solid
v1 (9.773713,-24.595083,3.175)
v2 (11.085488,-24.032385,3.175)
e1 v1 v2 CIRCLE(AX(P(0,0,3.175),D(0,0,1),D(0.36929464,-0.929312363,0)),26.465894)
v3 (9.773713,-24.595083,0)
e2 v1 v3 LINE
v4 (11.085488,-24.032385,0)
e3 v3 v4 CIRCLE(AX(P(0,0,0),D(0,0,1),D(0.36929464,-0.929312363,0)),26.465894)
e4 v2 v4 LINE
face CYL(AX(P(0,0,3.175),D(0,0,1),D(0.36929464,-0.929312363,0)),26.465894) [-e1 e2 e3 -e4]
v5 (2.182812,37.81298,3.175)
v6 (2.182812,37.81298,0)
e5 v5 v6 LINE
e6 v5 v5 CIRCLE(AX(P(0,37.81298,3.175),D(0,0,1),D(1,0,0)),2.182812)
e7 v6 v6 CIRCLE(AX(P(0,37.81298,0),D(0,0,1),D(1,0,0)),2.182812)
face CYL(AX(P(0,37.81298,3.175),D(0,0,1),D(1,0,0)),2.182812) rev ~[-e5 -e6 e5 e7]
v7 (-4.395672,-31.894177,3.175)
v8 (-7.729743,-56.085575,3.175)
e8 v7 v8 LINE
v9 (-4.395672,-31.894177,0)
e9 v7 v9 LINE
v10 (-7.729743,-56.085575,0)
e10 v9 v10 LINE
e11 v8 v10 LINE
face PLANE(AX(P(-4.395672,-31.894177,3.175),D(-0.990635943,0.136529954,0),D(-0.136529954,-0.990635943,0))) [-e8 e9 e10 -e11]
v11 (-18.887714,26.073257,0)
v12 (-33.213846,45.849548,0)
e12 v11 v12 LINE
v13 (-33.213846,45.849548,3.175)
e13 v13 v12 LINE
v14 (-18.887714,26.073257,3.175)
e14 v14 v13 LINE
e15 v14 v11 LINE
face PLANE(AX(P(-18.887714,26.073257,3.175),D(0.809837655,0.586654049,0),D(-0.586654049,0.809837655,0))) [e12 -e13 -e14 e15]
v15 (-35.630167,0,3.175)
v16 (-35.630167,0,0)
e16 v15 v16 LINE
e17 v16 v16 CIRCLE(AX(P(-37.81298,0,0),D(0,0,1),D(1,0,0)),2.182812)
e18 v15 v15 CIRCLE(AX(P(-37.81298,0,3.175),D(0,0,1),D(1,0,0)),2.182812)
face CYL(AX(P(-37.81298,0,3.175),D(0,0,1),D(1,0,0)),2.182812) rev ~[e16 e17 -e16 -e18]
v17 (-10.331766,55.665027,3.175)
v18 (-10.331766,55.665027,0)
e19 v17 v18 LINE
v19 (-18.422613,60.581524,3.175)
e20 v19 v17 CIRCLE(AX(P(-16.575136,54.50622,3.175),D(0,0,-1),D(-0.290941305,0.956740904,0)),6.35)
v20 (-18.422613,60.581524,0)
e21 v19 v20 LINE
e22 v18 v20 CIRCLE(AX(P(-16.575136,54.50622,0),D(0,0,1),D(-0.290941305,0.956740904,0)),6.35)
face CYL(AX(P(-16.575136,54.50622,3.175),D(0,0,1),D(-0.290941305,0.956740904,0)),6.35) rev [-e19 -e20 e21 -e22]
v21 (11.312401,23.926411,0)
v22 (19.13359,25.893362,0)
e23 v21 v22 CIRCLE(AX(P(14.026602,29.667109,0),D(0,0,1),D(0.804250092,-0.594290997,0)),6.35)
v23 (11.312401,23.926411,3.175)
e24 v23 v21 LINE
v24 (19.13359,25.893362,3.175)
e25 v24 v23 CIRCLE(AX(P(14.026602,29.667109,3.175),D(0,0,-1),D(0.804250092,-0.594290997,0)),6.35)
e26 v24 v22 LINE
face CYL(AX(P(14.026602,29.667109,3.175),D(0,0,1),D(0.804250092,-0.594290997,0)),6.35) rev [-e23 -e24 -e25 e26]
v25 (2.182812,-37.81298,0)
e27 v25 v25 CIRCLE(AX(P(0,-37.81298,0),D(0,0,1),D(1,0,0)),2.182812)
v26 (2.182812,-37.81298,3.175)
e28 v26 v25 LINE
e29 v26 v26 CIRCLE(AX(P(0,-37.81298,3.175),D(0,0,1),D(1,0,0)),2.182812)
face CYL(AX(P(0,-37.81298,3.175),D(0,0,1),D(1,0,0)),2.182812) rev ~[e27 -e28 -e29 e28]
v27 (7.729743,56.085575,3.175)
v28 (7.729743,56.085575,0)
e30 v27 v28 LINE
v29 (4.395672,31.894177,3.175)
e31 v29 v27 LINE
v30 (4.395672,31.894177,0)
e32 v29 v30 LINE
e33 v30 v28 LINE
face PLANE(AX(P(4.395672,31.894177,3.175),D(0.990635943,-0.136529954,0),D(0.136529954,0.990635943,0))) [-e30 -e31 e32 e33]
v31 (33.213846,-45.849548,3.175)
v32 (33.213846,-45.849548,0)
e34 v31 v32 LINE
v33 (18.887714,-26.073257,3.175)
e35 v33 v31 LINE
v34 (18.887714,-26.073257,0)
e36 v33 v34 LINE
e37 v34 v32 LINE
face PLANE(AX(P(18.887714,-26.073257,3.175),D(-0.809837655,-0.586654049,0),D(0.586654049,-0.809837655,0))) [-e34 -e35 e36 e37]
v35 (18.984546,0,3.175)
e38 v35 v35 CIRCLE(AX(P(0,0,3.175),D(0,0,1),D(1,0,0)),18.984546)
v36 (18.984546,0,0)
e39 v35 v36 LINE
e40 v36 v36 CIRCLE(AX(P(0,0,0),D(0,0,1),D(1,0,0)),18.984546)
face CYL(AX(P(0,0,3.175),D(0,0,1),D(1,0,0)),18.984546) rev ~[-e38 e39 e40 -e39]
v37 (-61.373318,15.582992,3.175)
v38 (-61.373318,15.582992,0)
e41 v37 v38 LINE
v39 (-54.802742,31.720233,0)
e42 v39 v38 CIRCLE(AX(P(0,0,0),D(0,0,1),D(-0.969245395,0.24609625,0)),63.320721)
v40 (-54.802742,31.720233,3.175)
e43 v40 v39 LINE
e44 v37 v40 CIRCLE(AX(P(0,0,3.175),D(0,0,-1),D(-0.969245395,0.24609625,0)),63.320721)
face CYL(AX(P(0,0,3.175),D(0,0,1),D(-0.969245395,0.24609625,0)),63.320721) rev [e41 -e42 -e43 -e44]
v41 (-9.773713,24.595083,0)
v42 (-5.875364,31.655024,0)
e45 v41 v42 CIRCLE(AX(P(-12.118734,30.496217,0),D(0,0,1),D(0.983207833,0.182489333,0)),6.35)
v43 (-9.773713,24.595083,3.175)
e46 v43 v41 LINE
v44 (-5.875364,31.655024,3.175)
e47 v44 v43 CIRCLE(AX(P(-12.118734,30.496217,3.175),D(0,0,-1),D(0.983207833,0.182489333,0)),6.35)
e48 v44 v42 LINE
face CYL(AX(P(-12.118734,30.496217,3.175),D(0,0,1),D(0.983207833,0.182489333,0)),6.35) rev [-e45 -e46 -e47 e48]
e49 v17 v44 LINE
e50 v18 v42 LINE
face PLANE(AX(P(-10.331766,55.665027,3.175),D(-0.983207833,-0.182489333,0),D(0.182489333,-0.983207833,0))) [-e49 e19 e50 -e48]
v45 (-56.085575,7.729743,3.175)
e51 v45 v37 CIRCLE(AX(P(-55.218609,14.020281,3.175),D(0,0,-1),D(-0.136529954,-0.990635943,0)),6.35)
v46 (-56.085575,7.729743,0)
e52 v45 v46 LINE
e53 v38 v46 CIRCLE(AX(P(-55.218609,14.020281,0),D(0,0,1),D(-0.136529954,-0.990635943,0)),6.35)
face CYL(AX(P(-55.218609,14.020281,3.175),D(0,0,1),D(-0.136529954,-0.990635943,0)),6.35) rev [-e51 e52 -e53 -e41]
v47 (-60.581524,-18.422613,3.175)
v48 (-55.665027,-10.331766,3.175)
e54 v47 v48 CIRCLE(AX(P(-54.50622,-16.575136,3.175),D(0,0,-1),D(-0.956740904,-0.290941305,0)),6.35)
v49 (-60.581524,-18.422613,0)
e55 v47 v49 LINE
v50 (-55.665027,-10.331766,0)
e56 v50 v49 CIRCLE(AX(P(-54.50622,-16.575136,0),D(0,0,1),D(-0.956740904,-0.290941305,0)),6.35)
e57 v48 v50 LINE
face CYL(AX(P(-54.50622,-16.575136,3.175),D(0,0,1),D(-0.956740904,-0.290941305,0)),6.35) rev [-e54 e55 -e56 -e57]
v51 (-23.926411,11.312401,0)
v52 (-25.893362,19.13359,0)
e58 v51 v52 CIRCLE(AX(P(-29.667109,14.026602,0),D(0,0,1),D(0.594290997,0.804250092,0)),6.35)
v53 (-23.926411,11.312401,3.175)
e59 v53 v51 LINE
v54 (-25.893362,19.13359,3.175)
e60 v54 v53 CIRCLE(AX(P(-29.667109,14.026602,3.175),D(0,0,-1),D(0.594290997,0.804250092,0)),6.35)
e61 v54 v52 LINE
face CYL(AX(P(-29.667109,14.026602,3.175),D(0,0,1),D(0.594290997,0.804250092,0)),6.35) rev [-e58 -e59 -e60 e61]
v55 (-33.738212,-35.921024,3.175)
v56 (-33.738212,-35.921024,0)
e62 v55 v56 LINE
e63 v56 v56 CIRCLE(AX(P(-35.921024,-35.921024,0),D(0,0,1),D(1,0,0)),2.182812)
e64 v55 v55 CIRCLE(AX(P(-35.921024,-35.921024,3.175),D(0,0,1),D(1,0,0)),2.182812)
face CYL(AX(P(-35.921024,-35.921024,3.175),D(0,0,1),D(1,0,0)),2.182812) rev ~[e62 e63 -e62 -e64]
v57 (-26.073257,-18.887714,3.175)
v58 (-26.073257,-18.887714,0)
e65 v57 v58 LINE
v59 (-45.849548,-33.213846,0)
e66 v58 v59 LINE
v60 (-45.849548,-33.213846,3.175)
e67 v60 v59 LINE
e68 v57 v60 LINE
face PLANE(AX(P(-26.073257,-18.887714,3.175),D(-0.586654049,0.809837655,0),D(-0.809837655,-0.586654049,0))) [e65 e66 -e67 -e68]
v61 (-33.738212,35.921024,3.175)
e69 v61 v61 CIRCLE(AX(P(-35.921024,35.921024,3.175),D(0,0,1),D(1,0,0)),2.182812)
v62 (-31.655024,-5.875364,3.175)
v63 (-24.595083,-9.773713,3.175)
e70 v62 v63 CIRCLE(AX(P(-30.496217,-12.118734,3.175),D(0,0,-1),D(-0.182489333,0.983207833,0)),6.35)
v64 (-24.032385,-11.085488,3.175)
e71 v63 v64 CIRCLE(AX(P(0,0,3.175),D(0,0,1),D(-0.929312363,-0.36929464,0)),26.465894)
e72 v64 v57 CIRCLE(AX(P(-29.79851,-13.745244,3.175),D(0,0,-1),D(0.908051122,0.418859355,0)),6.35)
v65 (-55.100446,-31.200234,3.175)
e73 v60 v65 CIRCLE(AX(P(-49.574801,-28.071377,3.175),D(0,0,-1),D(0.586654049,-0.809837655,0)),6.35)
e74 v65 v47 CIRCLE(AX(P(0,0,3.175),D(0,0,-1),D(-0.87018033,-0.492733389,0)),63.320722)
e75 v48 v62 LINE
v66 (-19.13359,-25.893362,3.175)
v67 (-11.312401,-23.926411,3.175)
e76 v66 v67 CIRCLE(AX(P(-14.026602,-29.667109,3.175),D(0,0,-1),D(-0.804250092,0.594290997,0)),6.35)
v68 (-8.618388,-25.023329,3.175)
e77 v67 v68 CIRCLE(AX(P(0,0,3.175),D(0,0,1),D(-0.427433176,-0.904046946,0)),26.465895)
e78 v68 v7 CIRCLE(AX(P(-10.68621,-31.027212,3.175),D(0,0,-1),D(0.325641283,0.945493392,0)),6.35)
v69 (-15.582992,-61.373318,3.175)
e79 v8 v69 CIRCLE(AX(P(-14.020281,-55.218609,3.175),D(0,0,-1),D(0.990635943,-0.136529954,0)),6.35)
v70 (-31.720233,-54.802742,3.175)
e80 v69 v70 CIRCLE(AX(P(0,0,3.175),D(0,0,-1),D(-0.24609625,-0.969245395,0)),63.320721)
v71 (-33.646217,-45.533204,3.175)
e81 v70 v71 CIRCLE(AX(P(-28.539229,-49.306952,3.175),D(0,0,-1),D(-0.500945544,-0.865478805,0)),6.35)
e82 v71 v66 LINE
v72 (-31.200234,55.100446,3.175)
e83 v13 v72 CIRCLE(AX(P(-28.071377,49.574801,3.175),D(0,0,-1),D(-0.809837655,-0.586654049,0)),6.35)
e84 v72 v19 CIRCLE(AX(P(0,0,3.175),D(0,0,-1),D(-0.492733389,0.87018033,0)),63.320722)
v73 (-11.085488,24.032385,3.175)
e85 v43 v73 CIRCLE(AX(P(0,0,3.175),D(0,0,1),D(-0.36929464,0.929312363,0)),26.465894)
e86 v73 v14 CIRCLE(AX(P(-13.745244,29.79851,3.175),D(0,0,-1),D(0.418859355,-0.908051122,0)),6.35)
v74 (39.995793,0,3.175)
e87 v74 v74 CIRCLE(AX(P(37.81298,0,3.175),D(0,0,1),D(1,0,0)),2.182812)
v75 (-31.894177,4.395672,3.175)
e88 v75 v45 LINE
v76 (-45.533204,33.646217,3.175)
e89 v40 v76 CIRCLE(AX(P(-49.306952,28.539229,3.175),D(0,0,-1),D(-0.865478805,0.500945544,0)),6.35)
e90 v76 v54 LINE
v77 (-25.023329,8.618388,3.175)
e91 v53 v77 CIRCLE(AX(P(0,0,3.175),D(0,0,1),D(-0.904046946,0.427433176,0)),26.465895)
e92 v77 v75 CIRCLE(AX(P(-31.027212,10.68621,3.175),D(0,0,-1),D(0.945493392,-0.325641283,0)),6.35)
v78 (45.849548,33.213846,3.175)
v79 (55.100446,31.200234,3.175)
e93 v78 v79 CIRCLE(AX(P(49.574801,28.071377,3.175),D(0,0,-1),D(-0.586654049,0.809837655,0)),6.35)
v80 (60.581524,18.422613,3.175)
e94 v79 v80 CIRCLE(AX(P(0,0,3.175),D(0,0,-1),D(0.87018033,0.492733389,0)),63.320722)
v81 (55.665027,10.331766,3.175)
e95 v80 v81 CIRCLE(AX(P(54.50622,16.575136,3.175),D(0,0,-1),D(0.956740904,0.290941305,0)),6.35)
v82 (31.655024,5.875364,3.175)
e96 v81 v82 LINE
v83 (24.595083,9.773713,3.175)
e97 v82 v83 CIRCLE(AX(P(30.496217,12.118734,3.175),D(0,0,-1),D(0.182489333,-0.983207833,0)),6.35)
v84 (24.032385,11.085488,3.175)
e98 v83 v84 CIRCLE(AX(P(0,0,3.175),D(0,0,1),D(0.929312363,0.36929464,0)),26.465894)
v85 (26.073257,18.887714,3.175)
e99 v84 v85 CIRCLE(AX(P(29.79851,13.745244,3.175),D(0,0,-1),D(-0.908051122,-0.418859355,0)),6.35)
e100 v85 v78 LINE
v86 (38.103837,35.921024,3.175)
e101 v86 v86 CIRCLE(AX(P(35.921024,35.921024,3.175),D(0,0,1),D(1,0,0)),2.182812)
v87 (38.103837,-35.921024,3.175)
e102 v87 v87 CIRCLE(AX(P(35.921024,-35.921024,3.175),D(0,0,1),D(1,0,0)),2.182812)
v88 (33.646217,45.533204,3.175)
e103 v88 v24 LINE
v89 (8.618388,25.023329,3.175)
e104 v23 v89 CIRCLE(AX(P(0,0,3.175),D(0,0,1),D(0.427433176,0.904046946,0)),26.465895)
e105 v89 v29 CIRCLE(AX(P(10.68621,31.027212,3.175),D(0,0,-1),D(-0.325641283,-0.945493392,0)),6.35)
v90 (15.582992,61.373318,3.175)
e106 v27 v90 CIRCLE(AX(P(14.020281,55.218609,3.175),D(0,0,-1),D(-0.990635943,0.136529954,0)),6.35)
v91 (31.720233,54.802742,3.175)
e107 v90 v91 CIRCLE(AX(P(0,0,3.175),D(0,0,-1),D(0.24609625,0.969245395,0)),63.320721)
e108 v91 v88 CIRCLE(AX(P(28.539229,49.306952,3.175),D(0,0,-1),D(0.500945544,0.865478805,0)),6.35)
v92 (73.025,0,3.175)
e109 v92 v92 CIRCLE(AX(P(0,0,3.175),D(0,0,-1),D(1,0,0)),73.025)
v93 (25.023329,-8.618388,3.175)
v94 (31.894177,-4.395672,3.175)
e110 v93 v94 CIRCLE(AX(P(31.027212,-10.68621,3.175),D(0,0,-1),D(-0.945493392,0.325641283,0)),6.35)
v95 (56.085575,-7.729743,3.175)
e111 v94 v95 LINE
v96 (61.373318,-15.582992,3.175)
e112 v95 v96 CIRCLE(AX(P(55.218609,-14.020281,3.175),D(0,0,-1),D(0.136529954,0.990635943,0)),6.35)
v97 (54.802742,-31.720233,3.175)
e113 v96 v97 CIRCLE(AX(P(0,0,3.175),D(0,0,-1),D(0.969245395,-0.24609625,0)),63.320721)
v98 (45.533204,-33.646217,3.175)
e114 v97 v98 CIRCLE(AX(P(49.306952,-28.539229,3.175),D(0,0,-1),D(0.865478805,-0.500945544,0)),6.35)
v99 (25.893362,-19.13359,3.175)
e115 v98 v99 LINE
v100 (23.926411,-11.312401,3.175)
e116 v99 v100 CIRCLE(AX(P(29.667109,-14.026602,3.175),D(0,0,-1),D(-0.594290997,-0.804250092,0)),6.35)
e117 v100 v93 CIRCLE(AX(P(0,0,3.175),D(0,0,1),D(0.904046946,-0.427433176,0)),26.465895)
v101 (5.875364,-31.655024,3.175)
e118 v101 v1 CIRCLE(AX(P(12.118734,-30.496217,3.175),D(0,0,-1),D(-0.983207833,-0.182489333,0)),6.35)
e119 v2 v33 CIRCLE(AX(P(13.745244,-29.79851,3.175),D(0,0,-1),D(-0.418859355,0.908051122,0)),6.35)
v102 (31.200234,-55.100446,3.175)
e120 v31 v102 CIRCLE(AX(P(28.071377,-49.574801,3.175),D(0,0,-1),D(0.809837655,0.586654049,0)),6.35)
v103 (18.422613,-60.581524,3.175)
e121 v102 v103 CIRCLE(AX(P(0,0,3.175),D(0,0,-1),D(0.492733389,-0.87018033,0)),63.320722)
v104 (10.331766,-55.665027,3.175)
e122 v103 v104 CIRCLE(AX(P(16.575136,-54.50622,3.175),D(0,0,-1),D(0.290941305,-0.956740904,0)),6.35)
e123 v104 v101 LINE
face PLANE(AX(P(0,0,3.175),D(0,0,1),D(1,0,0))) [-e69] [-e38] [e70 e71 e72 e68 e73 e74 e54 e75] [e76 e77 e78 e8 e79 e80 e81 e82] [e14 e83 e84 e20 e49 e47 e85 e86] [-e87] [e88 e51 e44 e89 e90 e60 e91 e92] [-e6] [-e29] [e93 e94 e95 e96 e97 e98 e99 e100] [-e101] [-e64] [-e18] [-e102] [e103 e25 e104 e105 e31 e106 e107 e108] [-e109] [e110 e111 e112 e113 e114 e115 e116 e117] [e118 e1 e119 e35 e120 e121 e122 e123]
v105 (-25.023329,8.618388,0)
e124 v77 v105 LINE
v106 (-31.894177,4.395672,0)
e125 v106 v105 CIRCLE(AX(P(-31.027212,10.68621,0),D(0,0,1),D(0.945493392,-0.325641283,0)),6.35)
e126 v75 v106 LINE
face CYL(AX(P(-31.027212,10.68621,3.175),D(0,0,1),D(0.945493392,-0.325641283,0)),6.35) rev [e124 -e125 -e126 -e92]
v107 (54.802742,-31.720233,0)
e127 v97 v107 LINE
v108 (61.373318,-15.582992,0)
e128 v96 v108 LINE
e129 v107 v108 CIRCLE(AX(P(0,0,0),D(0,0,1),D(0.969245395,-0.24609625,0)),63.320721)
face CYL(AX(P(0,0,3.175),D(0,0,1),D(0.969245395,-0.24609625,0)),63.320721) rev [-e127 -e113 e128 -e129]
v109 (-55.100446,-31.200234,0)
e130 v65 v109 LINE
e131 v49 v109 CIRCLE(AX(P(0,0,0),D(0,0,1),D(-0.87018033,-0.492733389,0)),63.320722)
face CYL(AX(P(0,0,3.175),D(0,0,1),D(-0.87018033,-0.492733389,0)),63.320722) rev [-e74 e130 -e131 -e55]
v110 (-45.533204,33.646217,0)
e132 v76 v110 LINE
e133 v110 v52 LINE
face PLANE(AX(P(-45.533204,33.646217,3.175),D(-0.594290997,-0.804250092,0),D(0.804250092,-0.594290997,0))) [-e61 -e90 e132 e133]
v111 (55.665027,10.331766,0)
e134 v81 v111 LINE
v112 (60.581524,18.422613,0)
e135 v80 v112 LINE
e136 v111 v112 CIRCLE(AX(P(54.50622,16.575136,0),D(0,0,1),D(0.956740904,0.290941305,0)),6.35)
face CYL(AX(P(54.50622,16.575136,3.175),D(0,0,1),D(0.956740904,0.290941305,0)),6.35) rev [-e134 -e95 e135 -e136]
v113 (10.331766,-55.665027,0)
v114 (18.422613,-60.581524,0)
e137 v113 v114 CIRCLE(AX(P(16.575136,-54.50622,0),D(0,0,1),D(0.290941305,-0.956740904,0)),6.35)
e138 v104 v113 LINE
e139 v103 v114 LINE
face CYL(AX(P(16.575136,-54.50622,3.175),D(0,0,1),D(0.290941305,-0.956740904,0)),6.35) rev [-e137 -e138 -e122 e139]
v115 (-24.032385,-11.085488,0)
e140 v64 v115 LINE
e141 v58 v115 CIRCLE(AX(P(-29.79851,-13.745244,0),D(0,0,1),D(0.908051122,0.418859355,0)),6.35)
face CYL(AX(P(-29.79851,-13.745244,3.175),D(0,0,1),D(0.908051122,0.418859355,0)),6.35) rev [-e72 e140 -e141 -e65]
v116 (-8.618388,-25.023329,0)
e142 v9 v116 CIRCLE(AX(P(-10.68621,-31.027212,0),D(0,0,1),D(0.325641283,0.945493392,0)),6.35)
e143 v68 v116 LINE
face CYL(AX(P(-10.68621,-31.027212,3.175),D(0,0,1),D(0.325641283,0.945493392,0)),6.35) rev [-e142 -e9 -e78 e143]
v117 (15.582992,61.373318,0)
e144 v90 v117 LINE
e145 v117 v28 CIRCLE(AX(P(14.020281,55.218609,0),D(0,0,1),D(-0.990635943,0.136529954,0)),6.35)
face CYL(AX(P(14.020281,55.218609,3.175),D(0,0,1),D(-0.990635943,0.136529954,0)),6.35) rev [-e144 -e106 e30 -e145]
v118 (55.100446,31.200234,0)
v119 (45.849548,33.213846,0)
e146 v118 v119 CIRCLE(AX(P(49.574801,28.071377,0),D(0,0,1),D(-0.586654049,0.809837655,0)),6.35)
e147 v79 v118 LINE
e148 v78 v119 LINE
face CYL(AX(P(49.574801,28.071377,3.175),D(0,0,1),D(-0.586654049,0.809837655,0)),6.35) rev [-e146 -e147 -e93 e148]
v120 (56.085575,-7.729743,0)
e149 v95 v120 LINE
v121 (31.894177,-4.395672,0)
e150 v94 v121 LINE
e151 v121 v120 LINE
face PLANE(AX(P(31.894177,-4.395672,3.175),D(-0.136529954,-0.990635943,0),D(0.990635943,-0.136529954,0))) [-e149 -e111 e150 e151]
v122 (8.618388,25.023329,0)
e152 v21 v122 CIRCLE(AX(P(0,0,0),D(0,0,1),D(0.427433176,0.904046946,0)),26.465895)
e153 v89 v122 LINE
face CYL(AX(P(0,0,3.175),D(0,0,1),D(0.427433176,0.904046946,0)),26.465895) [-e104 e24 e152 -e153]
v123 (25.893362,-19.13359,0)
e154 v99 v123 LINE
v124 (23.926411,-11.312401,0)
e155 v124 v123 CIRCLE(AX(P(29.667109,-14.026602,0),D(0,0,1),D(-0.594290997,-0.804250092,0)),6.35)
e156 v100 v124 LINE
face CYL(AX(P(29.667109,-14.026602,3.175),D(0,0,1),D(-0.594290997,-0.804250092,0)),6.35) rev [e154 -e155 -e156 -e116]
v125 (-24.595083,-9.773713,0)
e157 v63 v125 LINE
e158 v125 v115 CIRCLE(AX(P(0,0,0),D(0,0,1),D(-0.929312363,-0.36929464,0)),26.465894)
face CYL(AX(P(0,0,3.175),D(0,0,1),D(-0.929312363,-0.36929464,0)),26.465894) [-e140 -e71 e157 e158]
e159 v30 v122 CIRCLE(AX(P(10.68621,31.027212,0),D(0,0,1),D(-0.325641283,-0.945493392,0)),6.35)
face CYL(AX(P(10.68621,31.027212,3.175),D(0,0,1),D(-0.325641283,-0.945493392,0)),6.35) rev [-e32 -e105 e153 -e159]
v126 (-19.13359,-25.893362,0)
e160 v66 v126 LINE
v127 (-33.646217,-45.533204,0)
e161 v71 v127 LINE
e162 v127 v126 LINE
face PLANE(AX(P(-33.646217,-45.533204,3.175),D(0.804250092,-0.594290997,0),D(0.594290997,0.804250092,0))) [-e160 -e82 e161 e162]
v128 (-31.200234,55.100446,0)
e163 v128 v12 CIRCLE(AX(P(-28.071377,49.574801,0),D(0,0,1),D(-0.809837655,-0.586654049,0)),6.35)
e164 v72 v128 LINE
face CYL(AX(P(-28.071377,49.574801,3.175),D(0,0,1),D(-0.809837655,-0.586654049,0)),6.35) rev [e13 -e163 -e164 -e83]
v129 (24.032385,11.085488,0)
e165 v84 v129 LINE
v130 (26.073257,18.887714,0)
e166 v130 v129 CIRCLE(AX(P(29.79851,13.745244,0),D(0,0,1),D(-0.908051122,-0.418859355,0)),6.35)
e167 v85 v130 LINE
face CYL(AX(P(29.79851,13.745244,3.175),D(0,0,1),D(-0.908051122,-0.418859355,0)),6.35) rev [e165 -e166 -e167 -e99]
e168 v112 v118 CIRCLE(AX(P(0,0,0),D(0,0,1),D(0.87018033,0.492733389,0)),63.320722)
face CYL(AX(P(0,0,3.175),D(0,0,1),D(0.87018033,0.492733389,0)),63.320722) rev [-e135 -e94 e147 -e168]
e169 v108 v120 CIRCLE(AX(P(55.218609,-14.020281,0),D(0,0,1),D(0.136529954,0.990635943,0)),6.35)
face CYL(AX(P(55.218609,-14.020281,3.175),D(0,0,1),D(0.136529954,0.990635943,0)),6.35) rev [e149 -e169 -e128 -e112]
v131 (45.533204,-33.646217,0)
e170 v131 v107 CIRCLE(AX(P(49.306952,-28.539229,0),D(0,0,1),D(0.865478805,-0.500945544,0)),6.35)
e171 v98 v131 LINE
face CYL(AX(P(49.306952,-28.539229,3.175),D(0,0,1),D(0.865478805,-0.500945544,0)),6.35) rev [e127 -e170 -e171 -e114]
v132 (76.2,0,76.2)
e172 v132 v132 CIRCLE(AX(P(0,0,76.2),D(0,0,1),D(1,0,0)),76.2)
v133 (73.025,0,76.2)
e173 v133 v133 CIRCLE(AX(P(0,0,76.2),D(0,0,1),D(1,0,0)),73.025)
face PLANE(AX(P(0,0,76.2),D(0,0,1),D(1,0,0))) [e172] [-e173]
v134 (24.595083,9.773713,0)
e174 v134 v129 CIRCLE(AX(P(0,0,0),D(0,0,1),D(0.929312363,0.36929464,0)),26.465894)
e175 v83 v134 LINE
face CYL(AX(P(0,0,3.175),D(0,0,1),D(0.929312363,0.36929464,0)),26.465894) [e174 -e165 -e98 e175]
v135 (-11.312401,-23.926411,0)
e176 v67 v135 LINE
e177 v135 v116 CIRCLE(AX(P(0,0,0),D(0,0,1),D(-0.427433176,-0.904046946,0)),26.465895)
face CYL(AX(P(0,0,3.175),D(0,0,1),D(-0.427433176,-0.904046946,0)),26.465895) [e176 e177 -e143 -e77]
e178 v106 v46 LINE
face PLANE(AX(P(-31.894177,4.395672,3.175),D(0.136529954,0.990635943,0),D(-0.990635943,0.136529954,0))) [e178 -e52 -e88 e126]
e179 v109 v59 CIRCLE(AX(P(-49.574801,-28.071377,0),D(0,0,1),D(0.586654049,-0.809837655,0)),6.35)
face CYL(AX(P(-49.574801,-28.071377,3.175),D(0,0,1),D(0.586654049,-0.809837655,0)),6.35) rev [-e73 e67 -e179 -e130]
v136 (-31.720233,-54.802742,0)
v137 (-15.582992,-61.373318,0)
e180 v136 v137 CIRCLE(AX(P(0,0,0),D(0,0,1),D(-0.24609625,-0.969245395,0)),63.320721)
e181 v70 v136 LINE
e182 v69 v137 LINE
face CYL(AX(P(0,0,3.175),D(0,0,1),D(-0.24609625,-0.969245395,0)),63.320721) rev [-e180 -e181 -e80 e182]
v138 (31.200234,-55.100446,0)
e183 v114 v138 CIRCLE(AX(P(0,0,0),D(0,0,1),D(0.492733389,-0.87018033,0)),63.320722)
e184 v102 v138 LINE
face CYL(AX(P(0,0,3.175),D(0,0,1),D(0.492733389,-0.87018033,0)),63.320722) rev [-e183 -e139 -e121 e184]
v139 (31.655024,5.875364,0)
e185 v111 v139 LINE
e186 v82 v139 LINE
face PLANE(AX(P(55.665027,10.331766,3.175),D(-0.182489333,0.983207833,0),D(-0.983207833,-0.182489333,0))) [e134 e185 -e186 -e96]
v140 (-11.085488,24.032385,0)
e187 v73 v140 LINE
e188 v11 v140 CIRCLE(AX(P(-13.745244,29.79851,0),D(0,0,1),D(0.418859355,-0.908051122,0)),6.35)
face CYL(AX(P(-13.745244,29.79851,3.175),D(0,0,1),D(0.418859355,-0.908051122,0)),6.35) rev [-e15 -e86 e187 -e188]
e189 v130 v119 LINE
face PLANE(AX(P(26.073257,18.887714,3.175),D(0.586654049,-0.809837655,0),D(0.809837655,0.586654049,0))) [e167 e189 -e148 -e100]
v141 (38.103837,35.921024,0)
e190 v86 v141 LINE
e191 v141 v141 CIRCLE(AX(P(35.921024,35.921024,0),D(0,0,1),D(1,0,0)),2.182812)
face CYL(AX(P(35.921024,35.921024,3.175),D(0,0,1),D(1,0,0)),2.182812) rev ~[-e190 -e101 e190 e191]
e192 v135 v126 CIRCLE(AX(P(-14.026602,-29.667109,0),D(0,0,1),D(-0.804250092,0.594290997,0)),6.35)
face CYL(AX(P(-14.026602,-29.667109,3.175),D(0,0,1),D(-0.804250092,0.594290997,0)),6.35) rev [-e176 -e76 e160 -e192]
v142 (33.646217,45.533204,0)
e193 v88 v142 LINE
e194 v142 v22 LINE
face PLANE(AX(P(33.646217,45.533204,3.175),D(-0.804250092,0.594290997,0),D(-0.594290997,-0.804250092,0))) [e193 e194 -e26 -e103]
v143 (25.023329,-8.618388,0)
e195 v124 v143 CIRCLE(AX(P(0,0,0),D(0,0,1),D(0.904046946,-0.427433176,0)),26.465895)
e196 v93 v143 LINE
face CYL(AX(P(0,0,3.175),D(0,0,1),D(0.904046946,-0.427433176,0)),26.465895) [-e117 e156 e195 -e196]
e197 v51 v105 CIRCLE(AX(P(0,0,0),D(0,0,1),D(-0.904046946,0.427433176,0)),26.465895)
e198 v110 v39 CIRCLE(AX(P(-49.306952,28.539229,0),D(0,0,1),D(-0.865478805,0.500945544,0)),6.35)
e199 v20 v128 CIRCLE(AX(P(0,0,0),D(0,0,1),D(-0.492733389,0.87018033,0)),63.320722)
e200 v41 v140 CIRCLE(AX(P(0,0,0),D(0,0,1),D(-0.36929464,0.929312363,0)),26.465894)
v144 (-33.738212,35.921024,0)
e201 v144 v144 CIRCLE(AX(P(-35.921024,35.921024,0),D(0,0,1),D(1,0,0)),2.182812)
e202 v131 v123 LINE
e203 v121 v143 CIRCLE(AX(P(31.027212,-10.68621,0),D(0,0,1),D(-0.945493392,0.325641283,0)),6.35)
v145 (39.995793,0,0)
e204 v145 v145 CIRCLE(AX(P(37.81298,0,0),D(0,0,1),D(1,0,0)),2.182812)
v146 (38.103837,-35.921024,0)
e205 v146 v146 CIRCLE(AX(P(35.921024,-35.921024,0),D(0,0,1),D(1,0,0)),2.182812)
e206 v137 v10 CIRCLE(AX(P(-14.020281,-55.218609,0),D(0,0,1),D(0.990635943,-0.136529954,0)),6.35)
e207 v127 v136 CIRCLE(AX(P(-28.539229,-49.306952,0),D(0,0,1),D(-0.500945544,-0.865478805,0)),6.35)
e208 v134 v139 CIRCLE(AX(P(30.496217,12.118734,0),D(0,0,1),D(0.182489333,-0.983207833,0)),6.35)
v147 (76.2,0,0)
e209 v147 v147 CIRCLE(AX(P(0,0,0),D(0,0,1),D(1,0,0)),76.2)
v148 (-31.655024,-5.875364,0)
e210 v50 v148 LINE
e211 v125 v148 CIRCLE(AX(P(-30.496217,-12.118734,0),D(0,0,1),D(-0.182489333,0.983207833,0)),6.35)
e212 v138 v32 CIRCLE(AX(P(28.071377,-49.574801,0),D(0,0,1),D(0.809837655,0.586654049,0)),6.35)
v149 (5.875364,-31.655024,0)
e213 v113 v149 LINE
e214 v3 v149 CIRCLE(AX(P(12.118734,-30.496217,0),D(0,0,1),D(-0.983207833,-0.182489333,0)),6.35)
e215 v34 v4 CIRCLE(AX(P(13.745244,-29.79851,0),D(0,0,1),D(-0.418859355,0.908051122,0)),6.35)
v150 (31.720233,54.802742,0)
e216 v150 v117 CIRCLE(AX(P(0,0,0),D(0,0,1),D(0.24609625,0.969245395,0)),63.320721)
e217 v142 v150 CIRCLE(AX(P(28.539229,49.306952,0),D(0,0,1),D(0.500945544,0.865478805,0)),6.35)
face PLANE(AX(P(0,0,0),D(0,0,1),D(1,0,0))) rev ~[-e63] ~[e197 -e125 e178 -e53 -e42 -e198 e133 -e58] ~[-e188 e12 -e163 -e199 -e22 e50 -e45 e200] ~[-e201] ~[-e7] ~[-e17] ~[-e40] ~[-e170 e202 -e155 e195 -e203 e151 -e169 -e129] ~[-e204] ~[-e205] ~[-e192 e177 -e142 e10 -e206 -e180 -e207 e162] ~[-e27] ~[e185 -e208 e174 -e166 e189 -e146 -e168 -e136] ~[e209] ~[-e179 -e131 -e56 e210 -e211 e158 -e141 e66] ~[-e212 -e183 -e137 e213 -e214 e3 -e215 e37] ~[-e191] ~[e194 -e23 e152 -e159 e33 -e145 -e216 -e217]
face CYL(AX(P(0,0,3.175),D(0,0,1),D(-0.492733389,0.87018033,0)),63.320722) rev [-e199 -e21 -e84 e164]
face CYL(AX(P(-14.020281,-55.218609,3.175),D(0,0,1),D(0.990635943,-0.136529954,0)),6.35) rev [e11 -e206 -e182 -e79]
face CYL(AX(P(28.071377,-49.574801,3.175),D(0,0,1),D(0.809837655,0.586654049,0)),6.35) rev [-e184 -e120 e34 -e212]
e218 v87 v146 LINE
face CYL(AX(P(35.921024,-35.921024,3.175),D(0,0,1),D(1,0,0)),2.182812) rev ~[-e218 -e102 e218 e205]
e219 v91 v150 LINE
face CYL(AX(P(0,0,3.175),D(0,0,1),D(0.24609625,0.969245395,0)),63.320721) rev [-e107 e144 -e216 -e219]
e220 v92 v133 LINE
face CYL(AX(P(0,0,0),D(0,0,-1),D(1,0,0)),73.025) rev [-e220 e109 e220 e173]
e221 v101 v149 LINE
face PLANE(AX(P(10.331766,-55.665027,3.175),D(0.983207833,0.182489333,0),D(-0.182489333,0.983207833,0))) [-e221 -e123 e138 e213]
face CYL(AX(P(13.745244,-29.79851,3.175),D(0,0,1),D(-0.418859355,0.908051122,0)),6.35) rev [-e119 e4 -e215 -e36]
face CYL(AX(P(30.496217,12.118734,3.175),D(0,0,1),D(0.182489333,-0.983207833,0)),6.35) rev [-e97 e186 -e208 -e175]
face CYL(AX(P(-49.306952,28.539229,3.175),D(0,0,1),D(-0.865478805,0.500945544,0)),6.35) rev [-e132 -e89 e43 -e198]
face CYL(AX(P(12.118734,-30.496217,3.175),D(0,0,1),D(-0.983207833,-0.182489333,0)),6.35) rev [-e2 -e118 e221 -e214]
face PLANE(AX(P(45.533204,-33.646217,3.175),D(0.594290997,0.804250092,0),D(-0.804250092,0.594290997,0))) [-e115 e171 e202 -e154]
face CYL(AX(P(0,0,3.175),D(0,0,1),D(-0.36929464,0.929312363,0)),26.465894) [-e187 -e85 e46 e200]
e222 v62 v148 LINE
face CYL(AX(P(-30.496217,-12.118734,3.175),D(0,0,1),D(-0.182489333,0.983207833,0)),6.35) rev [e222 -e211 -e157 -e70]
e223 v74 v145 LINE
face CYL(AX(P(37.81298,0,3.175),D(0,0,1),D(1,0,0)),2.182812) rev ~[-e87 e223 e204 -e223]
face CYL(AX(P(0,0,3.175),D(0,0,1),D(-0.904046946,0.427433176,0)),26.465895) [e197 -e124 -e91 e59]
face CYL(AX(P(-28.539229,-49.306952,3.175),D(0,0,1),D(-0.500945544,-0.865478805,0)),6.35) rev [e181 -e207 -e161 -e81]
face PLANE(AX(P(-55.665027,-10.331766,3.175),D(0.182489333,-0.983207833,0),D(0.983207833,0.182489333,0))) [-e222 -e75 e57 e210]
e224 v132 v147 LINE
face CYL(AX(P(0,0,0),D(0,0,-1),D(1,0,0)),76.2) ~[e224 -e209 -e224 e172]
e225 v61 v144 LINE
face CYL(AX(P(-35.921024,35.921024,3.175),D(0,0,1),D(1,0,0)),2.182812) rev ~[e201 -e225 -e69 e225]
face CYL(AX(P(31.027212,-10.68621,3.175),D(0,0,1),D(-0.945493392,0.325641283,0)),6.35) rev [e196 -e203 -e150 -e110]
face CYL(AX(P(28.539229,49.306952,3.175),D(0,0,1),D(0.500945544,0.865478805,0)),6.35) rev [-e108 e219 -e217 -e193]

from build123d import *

# Parameters (mm, degrees)
SKETCH1_R           = 76.2
SKETCH1_R_2         = 73.025
BOSS_EXTRUDE1_DEPTH = 76.2
SKETCH3_R           = 76.2
BOSS_EXTRUDE2_DEPTH = 3.175
SKETCH5_R           = 2.1828125
CUT_EXTRUDE2_DEPTH  = 4.175
SKETCH11_R          = 2.1828125
CUT_EXTRUDE11_DEPTH = 4.175
SKETCH12_R          = 18.984546406
CUT_EXTRUDE12_DEPTH = 4.175
CUT_EXTRUDE13_DEPTH = 4.175
CIRPATTERN1_COUNT   = 4


with BuildPart() as part:
    # Sketch1 → Boss-Extrude1 (new body)
    with BuildSketch(Plane.XY):
        Circle(SKETCH1_R)
        Circle(SKETCH1_R_2, mode=Mode.SUBTRACT)
    extrude(amount=BOSS_EXTRUDE1_DEPTH)

    # Sketch3 → Boss-Extrude2 (add)
    with BuildSketch(Plane.XY):
        Circle(SKETCH3_R)
    extrude(amount=BOSS_EXTRUDE2_DEPTH)

    # Sketch5 → Cut-Extrude2 (cut, through all)
    with BuildSketch(Plane.XY.offset(3.175)):
        with Locations((0, 37.81298)):
            Circle(SKETCH5_R)
        with Locations((37.81298, 0)):
            Circle(SKETCH5_R)
        with Locations((-37.81298, 0)):
            Circle(SKETCH5_R)
        with Locations((0, -37.81298)):
            Circle(SKETCH5_R)
    extrude(amount=-CUT_EXTRUDE2_DEPTH, mode=Mode.SUBTRACT)

    # Sketch11 → Cut-Extrude11 (cut, through all)
    with BuildSketch(Plane.XY.offset(3.175)):
        with Locations((-35.921024484, 35.921024484)):
            Circle(SKETCH11_R)
        with Locations((-35.921024484, -35.921024484)):
            Circle(SKETCH11_R)
        with Locations((35.921024484, -35.921024484)):
            Circle(SKETCH11_R)
        with Locations((35.921024484, 35.921024484)):
            Circle(SKETCH11_R)
    extrude(amount=-CUT_EXTRUDE11_DEPTH, mode=Mode.SUBTRACT)

    # Sketch12 → Cut-Extrude12 (cut, through all)
    with BuildSketch(Plane.XY.offset(3.175)):
        Circle(SKETCH12_R)
    extrude(amount=-CUT_EXTRUDE12_DEPTH, mode=Mode.SUBTRACT)

    # Sketch13 → Cut-Extrude13 (cut, through all)
    with BuildSketch(Plane.XY.offset(3.175)):
        with BuildLine():
            Line((-18.887713582, 26.073256792), (-33.213845797, 45.849548003))
            ThreePointArc((-33.213845797, 45.849548003), (-34.276091741, 50.925360779), (-31.200233714, 55.10044631))
            ThreePointArc((-31.200233714, 55.10044631), (-24.962317442, 58.192752772), (-18.42261337, 60.581524279))
            ThreePointArc((-18.42261337, 60.581524279), (-13.277568117, 59.932870951), (-10.331766338, 55.665026803))
            Line((-10.331766338, 55.665026803), (-5.875364286, 31.655023908))
            ThreePointArc((-5.875364286, 31.655023908), (-6.559884807, 27.42673862), (-9.773713061, 24.595083138))
            ThreePointArc((-9.773713061, 24.595083138), (-10.43339446, 24.322579255), (-11.085487572, 24.032385376))
            ThreePointArc((-11.085487572, 24.032385376), (-15.352183804, 23.65520096), (-18.887713582, 26.073256792))
        make_face()
        with BuildLine():
            Line((-45.533204085, 33.646217178), (-25.893361536, 19.133590161))
            ThreePointArc((-25.893361536, 19.133590161), (-23.508869462, 15.575337449), (-23.926411262, 11.312401411))
            ThreePointArc((-23.926411262, 11.312401411), (-24.511909026, 9.980475814), (-25.023328549, 8.618387895))
            ThreePointArc((-25.023328549, 8.618387895), (-27.702333545, 5.276248304), (-31.894176796, 4.395671802))
            Line((-31.894176796, 4.395671802), (-56.085574643, 7.729742659))
            ThreePointArc((-56.085574643, 7.729742659), (-60.4859006, 10.473713006), (-61.373317696, 15.582992084))
            ThreePointArc((-61.373317696, 15.582992084), (-58.645731892, 23.878691299), (-54.802742327, 31.720233302))
            ThreePointArc((-54.802742327, 31.720233302), (-50.598737942, 34.756446226), (-45.533204085, 33.646217178))
        make_face()
    cut_extrude13 = extrude(amount=-CUT_EXTRUDE13_DEPTH, mode=Mode.SUBTRACT)

    # CirPattern1: Cut-Extrude13 ×4 about axis
    cirpattern1_axis = Axis((0, 0, 0), (0, 0, 1))
    for i in range(1, CIRPATTERN1_COUNT):
        add(cut_extrude13.rotate(cirpattern1_axis, i * 360 / CIRPATTERN1_COUNT), mode=Mode.SUBTRACT)


solid = part.part
